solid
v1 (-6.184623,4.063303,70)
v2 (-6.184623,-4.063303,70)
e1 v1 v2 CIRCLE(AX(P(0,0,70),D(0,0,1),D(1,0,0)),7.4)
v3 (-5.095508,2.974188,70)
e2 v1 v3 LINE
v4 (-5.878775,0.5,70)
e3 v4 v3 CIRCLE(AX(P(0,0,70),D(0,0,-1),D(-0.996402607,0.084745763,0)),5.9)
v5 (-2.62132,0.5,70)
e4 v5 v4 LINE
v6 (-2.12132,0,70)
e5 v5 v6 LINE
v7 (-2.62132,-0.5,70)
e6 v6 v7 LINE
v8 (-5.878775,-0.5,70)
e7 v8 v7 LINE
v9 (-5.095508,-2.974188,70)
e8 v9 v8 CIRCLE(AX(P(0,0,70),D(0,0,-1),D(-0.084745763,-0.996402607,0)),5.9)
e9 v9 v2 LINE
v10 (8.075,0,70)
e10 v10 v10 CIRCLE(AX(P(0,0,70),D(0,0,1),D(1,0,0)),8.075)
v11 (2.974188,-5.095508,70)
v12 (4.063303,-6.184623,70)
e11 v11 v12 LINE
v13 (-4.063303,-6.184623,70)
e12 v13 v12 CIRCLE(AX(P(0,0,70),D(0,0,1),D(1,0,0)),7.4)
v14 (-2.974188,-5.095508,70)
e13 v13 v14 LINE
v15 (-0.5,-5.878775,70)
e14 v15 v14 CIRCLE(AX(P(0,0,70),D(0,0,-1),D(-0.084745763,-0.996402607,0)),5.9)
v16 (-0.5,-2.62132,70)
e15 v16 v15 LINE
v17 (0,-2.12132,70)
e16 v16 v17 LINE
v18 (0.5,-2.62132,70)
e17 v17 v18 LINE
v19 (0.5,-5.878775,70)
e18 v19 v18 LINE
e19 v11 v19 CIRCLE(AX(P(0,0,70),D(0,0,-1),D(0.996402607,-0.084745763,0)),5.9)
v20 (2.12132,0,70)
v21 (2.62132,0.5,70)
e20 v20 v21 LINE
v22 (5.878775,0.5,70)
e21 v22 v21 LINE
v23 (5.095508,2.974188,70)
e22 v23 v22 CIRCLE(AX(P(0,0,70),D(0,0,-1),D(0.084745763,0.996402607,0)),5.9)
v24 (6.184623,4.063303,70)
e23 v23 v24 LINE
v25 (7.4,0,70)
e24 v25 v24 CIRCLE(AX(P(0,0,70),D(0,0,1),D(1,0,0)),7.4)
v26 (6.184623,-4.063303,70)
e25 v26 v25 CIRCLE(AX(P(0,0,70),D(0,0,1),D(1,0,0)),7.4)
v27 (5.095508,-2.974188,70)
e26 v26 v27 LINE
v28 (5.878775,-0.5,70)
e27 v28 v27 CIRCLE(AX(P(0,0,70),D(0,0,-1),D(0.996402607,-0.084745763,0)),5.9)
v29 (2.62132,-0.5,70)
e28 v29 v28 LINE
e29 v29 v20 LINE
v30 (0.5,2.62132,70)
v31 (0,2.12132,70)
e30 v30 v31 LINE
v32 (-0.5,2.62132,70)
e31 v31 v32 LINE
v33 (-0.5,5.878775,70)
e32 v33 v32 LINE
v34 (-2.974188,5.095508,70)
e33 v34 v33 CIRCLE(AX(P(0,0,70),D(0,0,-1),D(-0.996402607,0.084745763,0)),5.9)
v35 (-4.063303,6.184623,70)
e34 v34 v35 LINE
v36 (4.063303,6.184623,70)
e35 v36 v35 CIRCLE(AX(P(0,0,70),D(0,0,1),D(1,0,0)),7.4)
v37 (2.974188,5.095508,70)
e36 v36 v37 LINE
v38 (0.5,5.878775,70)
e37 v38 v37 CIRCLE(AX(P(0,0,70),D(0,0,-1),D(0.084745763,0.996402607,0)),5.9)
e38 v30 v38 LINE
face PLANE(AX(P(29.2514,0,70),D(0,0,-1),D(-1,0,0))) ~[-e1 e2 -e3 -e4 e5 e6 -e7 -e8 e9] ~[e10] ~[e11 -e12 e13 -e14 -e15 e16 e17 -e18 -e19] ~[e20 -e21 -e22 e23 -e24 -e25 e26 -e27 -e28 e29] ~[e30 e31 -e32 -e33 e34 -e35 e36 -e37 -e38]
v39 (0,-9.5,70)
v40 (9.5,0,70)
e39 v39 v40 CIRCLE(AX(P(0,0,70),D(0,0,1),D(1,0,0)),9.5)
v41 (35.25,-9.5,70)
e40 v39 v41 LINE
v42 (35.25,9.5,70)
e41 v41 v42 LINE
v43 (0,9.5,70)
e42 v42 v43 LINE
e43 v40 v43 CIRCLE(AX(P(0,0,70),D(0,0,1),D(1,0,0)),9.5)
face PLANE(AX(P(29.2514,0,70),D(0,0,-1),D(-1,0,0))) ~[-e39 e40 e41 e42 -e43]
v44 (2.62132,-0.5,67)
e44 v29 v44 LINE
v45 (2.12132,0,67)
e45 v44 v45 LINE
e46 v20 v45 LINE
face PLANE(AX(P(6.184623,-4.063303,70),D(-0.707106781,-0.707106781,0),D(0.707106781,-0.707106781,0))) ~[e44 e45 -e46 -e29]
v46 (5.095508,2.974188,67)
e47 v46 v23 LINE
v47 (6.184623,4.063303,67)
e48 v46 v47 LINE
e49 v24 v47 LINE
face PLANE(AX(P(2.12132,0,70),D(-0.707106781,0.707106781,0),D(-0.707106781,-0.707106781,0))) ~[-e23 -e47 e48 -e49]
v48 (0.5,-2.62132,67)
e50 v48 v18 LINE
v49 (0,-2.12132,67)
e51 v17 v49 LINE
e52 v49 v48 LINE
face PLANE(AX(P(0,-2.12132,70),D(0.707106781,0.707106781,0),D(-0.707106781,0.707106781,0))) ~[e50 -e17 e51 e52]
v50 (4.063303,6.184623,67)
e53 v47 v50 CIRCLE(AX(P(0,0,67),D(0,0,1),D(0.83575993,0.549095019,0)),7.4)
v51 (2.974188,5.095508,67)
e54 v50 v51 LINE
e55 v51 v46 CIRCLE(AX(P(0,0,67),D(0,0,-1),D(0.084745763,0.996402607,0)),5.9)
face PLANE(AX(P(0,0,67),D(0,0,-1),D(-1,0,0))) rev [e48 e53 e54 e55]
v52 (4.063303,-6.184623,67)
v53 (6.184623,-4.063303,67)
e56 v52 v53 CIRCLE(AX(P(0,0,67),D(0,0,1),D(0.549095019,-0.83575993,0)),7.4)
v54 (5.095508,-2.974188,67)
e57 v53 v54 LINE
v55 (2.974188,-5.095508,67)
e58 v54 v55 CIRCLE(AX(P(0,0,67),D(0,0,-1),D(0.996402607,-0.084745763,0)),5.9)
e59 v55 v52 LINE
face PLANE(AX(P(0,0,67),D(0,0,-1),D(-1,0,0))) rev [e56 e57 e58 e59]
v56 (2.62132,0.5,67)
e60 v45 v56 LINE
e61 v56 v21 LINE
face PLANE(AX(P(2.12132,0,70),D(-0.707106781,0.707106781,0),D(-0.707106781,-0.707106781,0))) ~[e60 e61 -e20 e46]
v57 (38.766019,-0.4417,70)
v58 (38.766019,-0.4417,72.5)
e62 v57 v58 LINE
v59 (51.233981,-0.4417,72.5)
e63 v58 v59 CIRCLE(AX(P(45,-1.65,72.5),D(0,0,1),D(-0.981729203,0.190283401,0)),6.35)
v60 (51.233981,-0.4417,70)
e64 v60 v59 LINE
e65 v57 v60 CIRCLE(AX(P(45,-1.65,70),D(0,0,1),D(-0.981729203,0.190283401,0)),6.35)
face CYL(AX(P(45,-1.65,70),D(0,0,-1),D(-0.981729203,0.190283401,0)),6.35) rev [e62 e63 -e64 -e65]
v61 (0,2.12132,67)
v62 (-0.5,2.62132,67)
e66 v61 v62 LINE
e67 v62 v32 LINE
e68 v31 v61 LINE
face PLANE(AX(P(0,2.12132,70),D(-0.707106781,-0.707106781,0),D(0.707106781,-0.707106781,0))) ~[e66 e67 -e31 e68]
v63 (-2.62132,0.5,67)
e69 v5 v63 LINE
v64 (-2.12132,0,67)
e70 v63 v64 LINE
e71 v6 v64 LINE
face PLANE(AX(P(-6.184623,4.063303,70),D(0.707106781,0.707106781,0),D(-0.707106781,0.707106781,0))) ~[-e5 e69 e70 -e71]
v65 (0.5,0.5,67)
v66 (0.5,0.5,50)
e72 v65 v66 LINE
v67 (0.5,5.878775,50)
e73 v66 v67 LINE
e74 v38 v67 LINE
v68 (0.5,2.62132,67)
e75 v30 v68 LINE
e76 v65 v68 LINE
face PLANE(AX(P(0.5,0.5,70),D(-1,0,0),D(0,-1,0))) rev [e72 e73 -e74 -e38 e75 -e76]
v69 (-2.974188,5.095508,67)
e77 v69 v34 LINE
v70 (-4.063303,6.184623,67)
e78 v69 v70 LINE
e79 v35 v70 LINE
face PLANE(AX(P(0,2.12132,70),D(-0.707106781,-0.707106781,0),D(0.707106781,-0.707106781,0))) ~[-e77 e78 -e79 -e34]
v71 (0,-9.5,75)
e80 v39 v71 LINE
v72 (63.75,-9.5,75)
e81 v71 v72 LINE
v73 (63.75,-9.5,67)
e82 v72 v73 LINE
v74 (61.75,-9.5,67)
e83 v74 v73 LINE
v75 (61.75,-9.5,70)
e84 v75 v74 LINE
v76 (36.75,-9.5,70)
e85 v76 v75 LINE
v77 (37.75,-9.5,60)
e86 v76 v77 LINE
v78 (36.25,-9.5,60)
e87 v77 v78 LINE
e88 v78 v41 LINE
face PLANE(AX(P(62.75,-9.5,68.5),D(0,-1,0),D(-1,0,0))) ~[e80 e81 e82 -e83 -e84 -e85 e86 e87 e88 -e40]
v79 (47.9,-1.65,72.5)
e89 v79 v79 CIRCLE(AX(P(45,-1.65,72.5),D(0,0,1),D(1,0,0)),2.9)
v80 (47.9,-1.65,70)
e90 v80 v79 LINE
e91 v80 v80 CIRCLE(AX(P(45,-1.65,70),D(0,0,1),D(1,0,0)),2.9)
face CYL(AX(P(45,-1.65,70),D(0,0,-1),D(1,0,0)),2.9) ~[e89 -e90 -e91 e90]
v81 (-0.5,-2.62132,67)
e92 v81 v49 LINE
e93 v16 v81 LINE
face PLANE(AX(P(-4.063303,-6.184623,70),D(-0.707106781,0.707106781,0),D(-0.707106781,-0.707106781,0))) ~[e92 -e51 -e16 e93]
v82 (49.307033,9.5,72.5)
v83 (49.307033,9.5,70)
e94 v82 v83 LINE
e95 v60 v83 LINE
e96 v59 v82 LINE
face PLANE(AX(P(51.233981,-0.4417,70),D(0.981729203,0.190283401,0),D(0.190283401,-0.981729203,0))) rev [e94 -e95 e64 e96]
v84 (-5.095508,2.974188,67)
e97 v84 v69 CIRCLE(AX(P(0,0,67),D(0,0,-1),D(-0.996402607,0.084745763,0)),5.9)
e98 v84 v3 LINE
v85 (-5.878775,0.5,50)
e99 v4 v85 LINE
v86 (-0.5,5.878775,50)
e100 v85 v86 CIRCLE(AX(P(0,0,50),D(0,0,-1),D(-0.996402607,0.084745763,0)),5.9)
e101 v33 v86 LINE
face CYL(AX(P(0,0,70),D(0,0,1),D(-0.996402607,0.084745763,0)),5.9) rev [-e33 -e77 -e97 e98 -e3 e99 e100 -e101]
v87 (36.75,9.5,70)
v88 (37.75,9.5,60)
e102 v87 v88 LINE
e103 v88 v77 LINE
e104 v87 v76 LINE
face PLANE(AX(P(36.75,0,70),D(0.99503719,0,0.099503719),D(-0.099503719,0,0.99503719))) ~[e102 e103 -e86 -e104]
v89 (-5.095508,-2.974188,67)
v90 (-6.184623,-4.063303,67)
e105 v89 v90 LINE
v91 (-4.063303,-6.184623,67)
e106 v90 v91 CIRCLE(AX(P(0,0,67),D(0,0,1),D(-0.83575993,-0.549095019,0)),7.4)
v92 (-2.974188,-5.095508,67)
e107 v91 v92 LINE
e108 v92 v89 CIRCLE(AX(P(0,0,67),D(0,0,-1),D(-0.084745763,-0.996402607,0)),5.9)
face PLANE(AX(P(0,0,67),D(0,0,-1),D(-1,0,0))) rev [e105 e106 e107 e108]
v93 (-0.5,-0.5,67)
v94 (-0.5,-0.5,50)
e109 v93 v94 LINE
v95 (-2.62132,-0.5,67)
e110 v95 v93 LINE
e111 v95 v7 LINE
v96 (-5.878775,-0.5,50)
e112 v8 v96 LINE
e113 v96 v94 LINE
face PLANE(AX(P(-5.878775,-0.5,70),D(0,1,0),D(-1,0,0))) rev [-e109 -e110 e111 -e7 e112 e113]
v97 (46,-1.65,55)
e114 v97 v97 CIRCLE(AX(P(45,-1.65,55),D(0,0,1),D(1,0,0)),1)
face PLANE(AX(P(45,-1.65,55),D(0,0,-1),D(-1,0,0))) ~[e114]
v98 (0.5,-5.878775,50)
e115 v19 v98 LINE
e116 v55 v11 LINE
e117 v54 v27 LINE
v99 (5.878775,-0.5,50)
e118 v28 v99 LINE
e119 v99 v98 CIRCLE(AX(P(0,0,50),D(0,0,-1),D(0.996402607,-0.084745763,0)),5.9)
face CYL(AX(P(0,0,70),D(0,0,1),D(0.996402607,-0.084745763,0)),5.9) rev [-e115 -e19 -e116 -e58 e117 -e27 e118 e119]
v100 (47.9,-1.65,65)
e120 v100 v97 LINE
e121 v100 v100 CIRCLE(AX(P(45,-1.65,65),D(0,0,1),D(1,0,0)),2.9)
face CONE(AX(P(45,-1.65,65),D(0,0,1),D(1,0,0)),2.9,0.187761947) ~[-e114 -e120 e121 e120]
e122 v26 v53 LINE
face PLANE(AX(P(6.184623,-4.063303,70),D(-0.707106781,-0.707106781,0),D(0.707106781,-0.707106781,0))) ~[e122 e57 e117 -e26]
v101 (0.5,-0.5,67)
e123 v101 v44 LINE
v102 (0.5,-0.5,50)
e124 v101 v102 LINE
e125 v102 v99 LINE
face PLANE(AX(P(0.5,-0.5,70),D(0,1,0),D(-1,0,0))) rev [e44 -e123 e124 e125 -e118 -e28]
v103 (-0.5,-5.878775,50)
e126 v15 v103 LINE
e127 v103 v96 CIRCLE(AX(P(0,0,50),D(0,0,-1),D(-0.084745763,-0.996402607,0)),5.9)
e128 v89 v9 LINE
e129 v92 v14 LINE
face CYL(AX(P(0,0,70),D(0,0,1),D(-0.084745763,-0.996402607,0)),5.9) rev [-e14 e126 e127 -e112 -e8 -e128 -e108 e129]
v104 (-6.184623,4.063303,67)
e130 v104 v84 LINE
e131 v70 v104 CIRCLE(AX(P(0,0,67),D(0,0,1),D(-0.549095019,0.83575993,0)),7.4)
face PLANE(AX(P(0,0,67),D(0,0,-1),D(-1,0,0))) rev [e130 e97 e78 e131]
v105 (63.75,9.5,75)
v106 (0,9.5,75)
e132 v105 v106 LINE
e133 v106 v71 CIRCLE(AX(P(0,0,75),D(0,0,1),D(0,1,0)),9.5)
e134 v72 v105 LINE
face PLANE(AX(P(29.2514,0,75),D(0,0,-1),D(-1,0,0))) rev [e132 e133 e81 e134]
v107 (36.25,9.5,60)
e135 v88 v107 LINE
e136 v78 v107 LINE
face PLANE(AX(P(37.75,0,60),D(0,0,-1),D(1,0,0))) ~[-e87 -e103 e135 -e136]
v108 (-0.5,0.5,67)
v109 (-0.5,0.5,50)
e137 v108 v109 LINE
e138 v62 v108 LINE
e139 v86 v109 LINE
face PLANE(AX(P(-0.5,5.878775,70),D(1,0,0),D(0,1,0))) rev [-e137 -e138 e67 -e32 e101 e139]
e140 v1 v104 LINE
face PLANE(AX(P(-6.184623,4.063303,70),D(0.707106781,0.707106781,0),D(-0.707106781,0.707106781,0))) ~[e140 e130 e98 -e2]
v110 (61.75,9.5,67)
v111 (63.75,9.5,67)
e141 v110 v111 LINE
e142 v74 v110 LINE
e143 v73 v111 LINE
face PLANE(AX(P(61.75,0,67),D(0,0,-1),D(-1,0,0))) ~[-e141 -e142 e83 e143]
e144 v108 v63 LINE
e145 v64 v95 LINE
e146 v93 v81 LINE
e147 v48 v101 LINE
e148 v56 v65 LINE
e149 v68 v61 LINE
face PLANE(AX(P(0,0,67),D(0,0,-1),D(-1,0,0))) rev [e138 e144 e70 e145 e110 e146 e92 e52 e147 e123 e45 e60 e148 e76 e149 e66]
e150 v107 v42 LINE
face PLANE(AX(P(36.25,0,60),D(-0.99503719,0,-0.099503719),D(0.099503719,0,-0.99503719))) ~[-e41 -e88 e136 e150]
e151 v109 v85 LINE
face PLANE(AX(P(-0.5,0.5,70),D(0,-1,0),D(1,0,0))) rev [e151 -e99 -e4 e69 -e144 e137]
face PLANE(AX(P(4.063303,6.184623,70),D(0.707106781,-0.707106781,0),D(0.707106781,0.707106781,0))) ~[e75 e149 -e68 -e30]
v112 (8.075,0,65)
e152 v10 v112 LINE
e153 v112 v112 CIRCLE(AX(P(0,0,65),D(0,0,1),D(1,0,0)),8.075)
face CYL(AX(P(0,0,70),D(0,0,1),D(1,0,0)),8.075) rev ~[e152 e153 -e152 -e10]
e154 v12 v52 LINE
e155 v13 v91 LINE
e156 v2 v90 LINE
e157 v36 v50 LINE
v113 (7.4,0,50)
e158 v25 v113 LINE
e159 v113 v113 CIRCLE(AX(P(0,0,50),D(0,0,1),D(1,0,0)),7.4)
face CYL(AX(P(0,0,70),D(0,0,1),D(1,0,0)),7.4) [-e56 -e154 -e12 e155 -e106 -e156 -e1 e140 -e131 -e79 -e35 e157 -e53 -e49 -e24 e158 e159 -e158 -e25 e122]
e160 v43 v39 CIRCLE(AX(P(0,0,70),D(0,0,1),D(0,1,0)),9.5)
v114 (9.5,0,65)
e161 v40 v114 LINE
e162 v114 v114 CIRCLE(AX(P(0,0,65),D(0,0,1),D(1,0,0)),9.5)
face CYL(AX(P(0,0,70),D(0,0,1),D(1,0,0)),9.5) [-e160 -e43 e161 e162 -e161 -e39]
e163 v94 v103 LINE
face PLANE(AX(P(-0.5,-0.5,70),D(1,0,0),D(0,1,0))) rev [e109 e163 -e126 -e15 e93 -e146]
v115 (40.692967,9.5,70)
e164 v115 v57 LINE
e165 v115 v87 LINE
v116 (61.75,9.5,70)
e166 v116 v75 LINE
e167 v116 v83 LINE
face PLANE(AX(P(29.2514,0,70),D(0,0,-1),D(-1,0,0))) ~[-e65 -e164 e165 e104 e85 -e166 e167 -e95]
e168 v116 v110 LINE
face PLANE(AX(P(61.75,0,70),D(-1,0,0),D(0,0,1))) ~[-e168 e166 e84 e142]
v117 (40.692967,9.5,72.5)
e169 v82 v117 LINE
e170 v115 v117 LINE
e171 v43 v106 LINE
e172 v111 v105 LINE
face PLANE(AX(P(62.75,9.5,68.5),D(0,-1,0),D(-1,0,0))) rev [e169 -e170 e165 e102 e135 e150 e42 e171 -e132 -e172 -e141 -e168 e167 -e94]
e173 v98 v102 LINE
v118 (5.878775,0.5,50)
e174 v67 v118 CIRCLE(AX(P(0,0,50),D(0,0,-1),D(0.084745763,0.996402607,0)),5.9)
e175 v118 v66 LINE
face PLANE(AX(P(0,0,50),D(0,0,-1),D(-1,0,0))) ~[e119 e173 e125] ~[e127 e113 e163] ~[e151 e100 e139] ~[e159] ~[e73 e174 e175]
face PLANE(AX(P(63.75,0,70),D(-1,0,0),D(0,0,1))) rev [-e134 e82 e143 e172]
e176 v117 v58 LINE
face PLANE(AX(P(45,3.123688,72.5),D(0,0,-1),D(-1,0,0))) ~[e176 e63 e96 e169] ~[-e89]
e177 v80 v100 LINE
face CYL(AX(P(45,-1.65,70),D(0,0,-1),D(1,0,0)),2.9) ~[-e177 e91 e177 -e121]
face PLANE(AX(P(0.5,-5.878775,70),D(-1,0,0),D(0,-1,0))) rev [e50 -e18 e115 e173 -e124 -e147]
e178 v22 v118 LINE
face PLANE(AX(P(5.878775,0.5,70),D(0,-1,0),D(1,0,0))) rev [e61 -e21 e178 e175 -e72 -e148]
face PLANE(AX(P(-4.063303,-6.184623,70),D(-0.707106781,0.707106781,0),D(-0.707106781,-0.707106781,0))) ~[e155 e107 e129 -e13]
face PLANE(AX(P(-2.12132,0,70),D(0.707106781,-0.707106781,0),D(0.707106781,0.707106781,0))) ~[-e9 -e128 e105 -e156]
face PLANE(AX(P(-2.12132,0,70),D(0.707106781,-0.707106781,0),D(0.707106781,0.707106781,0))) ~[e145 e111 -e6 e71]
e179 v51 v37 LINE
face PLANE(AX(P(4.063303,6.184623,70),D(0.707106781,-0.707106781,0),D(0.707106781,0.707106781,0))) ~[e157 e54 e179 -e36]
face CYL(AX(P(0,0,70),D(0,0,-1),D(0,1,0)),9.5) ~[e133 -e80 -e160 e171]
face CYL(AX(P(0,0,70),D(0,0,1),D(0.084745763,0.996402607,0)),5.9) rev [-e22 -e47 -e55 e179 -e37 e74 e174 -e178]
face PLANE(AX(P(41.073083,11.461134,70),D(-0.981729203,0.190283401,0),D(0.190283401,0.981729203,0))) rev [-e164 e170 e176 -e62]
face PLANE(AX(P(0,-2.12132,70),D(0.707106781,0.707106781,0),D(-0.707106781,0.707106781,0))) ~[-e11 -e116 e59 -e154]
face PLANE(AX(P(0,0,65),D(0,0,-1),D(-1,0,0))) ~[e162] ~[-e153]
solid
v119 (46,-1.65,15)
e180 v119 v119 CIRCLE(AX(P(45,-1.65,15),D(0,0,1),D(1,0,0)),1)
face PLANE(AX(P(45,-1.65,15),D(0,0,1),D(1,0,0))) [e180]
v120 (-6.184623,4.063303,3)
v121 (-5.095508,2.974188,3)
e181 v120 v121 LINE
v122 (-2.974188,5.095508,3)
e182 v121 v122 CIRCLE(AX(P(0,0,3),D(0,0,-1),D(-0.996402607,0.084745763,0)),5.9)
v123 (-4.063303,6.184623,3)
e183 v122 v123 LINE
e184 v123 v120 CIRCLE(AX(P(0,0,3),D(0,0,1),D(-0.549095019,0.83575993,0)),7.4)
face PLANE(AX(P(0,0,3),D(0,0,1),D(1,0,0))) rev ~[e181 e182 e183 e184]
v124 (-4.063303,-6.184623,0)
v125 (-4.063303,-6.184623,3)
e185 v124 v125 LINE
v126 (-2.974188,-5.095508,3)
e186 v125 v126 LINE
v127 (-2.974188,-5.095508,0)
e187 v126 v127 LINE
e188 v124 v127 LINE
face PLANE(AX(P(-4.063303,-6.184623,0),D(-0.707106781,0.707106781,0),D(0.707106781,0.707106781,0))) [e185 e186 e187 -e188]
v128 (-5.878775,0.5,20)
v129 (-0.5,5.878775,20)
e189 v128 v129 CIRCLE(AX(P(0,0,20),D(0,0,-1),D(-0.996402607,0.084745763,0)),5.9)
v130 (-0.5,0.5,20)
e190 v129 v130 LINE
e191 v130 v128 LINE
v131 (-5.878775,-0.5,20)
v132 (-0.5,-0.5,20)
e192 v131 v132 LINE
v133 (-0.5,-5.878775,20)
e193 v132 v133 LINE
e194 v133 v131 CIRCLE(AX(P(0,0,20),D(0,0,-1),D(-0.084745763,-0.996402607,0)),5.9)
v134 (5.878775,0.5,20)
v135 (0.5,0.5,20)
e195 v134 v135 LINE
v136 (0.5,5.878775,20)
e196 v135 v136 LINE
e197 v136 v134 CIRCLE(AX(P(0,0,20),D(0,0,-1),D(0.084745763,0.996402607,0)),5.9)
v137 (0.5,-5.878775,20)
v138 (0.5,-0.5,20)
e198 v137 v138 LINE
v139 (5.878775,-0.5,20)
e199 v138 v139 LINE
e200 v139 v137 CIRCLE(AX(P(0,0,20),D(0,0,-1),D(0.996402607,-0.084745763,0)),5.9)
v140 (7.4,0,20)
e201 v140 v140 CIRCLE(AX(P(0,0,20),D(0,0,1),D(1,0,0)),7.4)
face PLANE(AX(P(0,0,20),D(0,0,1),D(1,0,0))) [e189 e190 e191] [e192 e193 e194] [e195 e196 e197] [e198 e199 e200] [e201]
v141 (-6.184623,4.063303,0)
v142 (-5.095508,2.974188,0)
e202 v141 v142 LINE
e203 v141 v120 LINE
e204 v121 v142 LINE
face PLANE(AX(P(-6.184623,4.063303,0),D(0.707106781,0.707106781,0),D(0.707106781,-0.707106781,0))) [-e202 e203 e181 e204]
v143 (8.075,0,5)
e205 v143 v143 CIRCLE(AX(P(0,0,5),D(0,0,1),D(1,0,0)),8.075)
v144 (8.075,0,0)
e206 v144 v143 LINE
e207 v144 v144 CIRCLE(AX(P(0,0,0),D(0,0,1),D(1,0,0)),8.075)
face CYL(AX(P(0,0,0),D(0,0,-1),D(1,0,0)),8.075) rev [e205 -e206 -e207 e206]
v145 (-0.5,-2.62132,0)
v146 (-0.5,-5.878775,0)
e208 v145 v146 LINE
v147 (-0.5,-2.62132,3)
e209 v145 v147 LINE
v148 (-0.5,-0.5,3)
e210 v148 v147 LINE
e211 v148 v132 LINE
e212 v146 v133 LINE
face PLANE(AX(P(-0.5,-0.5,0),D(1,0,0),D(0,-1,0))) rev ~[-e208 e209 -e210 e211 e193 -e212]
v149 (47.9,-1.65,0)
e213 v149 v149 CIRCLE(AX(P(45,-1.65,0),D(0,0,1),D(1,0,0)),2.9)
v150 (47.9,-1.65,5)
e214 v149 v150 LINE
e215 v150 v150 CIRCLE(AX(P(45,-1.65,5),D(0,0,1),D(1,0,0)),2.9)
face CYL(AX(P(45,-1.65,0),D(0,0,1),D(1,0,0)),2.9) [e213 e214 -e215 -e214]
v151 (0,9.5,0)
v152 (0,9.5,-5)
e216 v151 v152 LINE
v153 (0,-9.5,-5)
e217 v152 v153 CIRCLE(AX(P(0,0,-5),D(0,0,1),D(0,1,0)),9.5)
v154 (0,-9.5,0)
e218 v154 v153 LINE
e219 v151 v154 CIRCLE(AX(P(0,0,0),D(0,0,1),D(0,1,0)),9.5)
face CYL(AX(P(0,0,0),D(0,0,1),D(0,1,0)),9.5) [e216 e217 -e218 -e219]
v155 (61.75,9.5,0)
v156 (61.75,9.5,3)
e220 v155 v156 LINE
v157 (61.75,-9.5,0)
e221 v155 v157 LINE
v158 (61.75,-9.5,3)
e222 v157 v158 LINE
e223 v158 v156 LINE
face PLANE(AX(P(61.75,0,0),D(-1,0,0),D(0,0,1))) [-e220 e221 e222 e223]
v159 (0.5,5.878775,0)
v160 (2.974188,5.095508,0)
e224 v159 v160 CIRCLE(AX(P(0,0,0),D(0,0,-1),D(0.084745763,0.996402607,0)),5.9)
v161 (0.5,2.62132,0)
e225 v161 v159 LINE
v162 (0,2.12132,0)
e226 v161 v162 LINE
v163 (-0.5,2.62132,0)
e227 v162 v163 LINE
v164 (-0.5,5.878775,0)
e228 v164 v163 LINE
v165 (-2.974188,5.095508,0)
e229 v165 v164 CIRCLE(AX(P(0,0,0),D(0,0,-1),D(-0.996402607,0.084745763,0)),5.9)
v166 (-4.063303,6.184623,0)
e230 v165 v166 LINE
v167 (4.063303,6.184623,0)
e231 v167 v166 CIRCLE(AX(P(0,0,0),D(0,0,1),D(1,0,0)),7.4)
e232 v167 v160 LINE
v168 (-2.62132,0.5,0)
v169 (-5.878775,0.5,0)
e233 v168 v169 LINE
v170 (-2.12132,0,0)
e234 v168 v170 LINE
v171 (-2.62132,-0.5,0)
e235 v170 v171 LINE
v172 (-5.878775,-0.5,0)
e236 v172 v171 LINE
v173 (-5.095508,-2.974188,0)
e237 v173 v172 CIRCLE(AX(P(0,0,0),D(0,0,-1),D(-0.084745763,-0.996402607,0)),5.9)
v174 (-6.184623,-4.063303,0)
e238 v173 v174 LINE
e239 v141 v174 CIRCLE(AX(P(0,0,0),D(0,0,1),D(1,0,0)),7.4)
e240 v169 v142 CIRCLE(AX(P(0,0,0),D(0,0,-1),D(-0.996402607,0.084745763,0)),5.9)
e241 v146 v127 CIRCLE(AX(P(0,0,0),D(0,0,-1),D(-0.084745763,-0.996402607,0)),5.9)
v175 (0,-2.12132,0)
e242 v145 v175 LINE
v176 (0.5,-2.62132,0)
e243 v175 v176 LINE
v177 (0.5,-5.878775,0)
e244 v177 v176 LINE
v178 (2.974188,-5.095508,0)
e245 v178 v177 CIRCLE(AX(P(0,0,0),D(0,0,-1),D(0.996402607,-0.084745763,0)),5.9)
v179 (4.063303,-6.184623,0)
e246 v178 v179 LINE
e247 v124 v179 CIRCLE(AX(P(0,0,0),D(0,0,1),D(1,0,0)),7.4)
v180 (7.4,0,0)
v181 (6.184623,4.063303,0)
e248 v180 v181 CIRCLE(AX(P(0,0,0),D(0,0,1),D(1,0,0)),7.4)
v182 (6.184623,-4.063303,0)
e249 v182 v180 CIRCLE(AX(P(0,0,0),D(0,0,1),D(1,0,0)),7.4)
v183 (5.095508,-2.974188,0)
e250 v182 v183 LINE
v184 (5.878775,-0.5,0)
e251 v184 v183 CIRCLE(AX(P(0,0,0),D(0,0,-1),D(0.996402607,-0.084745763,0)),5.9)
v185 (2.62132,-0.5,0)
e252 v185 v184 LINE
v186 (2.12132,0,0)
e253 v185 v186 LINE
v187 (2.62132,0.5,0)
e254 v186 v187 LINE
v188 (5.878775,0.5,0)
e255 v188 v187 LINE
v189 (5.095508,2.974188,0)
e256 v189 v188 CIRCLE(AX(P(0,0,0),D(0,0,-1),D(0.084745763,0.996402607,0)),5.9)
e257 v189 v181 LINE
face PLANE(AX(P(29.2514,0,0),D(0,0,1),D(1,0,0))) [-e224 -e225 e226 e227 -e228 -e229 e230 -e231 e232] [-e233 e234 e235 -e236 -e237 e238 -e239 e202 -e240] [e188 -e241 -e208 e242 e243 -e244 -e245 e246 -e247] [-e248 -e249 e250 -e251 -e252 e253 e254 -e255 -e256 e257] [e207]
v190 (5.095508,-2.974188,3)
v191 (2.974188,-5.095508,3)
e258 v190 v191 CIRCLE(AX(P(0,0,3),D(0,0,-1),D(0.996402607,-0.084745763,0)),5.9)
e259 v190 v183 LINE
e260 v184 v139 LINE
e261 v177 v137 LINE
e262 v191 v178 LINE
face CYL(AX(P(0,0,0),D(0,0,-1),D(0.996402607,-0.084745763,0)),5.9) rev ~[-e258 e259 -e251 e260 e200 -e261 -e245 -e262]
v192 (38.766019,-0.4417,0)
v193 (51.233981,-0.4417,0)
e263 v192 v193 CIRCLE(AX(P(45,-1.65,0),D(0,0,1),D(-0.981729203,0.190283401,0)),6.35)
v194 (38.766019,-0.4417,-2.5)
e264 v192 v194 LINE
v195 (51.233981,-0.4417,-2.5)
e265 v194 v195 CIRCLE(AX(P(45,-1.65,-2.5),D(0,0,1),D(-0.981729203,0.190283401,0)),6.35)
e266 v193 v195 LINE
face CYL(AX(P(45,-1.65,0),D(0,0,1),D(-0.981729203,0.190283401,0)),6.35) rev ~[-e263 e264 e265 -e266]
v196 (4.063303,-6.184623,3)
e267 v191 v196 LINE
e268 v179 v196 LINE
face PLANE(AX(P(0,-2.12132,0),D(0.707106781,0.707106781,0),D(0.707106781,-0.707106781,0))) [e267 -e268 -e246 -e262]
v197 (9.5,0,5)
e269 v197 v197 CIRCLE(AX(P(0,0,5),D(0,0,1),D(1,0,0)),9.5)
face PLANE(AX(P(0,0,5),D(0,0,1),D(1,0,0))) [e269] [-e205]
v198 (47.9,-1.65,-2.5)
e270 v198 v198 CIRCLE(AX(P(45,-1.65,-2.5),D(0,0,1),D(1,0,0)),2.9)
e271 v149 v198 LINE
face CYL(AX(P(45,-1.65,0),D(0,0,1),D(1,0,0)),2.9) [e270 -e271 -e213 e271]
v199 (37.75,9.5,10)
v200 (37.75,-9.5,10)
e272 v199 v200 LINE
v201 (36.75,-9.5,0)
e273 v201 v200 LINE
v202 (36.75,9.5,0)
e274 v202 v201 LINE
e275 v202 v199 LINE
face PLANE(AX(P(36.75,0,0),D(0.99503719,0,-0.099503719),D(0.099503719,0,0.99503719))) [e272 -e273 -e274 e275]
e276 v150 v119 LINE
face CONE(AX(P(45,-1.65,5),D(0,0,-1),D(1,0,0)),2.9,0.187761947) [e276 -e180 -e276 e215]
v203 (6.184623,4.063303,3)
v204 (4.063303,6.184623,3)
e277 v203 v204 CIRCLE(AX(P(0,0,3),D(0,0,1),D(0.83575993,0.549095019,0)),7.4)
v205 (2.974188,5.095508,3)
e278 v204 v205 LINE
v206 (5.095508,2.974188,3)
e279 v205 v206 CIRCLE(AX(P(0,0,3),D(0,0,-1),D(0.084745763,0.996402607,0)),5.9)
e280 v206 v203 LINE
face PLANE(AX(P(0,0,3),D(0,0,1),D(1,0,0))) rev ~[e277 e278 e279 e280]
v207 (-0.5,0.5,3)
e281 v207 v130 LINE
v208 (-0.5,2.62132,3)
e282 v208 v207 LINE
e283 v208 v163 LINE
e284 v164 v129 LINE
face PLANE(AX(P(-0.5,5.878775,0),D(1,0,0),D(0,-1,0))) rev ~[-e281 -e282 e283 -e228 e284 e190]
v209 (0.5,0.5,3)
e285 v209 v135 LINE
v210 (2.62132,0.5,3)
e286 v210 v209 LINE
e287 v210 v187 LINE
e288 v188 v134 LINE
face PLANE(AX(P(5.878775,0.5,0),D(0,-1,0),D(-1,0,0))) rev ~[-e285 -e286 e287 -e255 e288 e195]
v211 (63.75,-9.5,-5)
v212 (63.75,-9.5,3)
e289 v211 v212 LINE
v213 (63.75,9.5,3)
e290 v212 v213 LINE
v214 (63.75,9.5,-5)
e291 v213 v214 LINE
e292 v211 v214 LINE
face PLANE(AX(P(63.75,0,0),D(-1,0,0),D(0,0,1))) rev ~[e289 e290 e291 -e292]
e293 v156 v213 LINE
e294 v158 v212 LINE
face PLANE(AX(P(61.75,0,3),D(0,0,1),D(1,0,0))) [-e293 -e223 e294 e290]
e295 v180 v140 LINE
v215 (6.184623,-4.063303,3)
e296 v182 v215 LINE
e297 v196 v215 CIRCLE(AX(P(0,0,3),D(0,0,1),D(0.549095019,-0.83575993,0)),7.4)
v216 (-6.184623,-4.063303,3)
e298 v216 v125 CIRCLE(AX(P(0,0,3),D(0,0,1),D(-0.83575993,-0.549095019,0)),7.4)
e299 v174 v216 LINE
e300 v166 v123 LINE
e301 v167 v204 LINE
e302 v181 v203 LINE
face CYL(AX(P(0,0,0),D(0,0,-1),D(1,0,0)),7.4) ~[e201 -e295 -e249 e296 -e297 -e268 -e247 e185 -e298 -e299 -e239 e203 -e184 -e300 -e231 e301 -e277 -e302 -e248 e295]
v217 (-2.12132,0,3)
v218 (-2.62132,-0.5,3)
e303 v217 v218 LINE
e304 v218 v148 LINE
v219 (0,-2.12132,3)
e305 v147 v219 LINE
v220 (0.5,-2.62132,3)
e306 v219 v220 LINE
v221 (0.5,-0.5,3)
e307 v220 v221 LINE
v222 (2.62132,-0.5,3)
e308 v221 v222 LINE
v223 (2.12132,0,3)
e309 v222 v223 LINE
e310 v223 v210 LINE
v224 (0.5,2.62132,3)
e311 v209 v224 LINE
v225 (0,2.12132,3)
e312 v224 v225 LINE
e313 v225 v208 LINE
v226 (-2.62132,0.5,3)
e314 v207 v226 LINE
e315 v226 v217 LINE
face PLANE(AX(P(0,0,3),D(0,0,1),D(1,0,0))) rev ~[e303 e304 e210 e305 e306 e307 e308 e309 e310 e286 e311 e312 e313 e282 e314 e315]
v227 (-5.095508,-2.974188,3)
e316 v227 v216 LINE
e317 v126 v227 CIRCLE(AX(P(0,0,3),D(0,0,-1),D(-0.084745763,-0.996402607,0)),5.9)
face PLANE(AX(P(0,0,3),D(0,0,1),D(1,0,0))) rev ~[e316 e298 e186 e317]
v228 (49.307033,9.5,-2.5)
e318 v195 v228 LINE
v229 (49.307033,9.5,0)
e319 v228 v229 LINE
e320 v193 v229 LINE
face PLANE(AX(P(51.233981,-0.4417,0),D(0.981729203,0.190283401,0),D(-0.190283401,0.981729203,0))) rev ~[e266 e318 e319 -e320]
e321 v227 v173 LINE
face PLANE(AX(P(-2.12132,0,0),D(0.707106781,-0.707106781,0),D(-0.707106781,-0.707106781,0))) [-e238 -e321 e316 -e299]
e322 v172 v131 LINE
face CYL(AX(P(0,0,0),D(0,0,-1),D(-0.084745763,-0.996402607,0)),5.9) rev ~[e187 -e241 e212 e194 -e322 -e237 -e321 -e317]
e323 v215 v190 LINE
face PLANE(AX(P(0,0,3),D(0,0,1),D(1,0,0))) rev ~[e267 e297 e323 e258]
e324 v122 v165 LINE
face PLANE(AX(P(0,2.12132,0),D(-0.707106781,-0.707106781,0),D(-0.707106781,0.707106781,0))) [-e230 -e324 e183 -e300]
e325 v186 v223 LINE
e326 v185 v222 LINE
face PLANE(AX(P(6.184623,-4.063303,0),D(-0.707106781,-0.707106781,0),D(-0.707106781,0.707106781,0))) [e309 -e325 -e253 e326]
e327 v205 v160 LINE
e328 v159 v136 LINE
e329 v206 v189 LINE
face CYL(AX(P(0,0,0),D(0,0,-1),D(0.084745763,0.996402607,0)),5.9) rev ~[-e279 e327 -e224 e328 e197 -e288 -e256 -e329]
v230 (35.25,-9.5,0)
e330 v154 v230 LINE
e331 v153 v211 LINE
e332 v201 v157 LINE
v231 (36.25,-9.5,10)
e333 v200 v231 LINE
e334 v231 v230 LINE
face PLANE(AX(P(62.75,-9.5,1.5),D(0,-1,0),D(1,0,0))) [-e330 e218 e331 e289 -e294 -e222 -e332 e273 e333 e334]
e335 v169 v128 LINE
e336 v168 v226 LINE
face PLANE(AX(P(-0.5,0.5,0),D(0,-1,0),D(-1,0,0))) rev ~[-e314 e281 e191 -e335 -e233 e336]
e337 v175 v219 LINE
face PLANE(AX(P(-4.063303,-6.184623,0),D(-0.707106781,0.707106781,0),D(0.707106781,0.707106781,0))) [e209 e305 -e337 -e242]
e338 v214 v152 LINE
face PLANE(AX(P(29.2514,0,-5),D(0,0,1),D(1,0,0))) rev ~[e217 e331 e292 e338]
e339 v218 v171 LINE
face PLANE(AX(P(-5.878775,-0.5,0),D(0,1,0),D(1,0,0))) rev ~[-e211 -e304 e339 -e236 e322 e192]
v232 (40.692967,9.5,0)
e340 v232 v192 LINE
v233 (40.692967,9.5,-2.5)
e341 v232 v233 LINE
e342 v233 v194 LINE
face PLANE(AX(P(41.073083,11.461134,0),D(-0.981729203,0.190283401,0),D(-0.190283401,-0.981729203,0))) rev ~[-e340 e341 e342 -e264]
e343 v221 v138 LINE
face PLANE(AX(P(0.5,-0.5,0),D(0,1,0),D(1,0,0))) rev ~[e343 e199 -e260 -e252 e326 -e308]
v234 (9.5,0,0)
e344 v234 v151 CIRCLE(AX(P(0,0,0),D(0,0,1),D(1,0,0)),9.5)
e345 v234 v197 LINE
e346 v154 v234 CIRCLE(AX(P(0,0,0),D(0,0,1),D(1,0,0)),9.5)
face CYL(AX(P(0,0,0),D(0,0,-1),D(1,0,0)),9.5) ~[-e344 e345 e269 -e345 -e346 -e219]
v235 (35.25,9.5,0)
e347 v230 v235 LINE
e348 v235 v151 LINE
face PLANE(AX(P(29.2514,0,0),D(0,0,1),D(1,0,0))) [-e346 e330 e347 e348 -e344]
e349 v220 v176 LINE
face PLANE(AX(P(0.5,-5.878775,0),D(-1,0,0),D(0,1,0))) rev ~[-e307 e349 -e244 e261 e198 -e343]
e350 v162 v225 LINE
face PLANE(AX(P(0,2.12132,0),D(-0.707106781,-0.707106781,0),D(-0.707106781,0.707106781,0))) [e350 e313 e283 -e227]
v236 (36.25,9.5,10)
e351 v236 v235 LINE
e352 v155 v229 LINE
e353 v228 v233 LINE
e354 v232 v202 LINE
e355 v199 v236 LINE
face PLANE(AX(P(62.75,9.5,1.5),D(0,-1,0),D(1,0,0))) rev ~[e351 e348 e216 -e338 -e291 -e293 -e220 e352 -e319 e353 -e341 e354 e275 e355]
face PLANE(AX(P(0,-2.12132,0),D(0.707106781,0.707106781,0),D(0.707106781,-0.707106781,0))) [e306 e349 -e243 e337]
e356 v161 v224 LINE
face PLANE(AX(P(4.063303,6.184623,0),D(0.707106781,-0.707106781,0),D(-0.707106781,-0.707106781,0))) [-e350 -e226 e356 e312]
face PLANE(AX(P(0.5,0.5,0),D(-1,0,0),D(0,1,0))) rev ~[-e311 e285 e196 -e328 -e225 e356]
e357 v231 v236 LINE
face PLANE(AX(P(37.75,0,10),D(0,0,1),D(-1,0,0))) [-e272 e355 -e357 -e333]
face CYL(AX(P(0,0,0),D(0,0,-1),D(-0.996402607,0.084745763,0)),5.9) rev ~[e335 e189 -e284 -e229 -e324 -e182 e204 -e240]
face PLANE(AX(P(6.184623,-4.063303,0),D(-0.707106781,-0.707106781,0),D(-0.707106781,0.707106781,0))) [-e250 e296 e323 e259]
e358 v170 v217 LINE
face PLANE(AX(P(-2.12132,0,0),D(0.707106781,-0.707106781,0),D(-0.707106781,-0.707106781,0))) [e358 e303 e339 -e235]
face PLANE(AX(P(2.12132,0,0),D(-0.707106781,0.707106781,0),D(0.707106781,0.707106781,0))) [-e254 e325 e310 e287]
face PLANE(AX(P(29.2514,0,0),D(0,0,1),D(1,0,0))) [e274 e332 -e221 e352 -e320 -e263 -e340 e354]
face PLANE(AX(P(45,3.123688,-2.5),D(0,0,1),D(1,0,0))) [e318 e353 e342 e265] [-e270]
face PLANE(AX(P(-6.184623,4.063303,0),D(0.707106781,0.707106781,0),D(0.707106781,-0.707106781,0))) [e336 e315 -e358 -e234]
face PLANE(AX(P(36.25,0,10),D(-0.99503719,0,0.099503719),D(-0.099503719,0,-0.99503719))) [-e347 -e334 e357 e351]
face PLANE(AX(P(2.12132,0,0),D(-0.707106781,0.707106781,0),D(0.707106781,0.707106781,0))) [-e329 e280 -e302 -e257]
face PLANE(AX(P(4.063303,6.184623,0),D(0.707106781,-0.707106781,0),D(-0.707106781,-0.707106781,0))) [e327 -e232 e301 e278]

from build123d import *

# Parameters (mm, degrees)
F1_R      = 7.4
F2_DEPTH  = 20
F3_R      = 9.5
F3_R_2    = 8.075
F4_DEPTH  = 5
F6_DEPTH  = 3
F10_DEPTH = 5
F11_W     = 2
F11_H     = 3
F12_DEPTH = 9.5
F13_R     = 2.9
F14_DEPTH = 2.5


with BuildPart() as f2:
    # F1 (on Top) → F2 (new body)
    with BuildSketch(Plane.XY):
        Circle(F1_R)
        with BuildLine():
            ThreePointArc((-0.5, -5.8787753827), (-4.171930009, -4.171930009), (-5.8787753827, -0.5))
            Line((-5.8787753827, -0.5), (-0.5, -0.5))
            Line((-0.5, -0.5), (-0.5, -5.8787753827))
        make_face(mode=Mode.SUBTRACT)
        with BuildLine():
            ThreePointArc((5.8787753827, -0.5), (4.171930009, -4.171930009), (0.5, -5.8787753827))
            Line((0.5, -5.8787753827), (0.5, -0.5))
            Line((0.5, -0.5), (5.8787753827, -0.5))
        make_face(mode=Mode.SUBTRACT)
        with BuildLine():
            ThreePointArc((-5.8787753827, 0.5), (-4.171930009, 4.171930009), (-0.5, 5.8787753827))
            Line((-0.5, 5.8787753827), (-0.5, 0.5))
            Line((-0.5, 0.5), (-5.8787753827, 0.5))
        make_face(mode=Mode.SUBTRACT)
        with BuildLine():
            Line((0.5, 0.5), (0.5, 5.8787753827))
            ThreePointArc((0.5, 5.8787753827), (4.171930009, 4.171930009), (5.8787753827, 0.5))
            Line((5.8787753827, 0.5), (0.5, 0.5))
        make_face(mode=Mode.SUBTRACT)
    extrude(amount=F2_DEPTH)

    # F5 (on Top) → F6 (cut)
    with BuildSketch(Plane.XY):
        with BuildLine():
            Line((0, 2.1213203436), (-4.063303138, 6.1846234816))
            ThreePointArc((-4.063303138, 6.1846234816), (-5.2325901808, 5.2325901808), (-6.1846234816, 4.063303138))
            Line((-6.1846234816, 4.063303138), (-2.1213203436, 0))
            Line((-2.1213203436, 0), (-6.1846234816, -4.063303138))
            ThreePointArc((-6.1846234816, -4.063303138), (-5.2325901808, -5.2325901808), (-4.063303138, -6.1846234816))
            Line((-4.063303138, -6.1846234816), (0, -2.1213203436))
            Line((0, -2.1213203436), (4.063303138, -6.1846234816))
            ThreePointArc((4.063303138, -6.1846234816), (5.2325901808, -5.2325901808), (6.1846234816, -4.063303138))
            Line((6.1846234816, -4.063303138), (2.1213203436, 0))
            Line((2.1213203436, 0), (6.1846234816, 4.063303138))
            ThreePointArc((6.1846234816, 4.063303138), (5.2325901808, 5.2325901808), (4.063303138, 6.1846234816))
            Line((4.063303138, 6.1846234816), (0, 2.1213203436))
        make_face()
    extrude(amount=F6_DEPTH, mode=Mode.SUBTRACT)



with BuildPart() as f4:
    # F3 (on Top) → F4 (new body)
    with BuildSketch(Plane.XY):
        Circle(F3_R)
        Circle(F3_R_2, mode=Mode.SUBTRACT)
    extrude(amount=F4_DEPTH)


with BuildPart() as f8:
    # F7 (on offset) → F8 (revolve)
    with BuildSketch(Plane.XZ.offset(1.65)):
        Polygon((46, 15), (45, 15), (45, 0), (47.9, 0), (47.9, 5), align=None)
    revolve(axis=Axis((45, -1.65, 7.5), (0, 0, 1)))


with BuildPart() as f2_1:
    add(f2.part)

    add(f4.part)  # F10 merges F4

    add(f8.part)  # F10 merges F8
    # F9 (on Top) → F10 (join)
    with BuildSketch(Plane.XY):
        with BuildLine():
            Line((63.75, 9.5), (0, 9.5))
            ThreePointArc((0, 9.5), (-9.5, 0), (0, -9.5))
            Line((0, -9.5), (63.75, -9.5))
            Line((63.75, -9.5), (63.75, 9.5))
        make_face()
    extrude(amount=-F10_DEPTH)

    # F11 (on Front) → F12 (join, symmetric)
    with BuildSketch(Plane.XZ):
        with Locations((62.75, 1.5)):
            Rectangle(F11_W, F11_H)
        Polygon((35.25, 0), (36.75, 0), (37.75, 10), (36.25, 10), align=None)
    extrude(amount=F12_DEPTH, both=True)

    # F13 (on Top) → F14 (cut)
    with BuildSketch(Plane.XY):
        with BuildLine():
            Line((51.2339806081, -0.4417003717), (48.9269169818, 11.4611336364))
            ThreePointArc((48.9269169818, 11.4611336364), (45, 14.7000001743), (41.0730830182, 11.4611336364))
            Line((41.0730830182, 11.4611336364), (38.7660193919, -0.4417003717))
            ThreePointArc((38.7660193919, -0.4417003717), (45, -8.0000001743), (51.2339806081, -0.4417003717))
        make_face()
        with Locations((45, -1.65)):
            Circle(F13_R, mode=Mode.SUBTRACT)
    extrude(amount=-F14_DEPTH, mode=Mode.SUBTRACT)


with BuildPart() as f16_1:
    # F16: instance of F2
    add(f2_1.part.mirror(Plane.XY.offset(35)))


solid = Compound([f2_1.part, f16_1.part])
